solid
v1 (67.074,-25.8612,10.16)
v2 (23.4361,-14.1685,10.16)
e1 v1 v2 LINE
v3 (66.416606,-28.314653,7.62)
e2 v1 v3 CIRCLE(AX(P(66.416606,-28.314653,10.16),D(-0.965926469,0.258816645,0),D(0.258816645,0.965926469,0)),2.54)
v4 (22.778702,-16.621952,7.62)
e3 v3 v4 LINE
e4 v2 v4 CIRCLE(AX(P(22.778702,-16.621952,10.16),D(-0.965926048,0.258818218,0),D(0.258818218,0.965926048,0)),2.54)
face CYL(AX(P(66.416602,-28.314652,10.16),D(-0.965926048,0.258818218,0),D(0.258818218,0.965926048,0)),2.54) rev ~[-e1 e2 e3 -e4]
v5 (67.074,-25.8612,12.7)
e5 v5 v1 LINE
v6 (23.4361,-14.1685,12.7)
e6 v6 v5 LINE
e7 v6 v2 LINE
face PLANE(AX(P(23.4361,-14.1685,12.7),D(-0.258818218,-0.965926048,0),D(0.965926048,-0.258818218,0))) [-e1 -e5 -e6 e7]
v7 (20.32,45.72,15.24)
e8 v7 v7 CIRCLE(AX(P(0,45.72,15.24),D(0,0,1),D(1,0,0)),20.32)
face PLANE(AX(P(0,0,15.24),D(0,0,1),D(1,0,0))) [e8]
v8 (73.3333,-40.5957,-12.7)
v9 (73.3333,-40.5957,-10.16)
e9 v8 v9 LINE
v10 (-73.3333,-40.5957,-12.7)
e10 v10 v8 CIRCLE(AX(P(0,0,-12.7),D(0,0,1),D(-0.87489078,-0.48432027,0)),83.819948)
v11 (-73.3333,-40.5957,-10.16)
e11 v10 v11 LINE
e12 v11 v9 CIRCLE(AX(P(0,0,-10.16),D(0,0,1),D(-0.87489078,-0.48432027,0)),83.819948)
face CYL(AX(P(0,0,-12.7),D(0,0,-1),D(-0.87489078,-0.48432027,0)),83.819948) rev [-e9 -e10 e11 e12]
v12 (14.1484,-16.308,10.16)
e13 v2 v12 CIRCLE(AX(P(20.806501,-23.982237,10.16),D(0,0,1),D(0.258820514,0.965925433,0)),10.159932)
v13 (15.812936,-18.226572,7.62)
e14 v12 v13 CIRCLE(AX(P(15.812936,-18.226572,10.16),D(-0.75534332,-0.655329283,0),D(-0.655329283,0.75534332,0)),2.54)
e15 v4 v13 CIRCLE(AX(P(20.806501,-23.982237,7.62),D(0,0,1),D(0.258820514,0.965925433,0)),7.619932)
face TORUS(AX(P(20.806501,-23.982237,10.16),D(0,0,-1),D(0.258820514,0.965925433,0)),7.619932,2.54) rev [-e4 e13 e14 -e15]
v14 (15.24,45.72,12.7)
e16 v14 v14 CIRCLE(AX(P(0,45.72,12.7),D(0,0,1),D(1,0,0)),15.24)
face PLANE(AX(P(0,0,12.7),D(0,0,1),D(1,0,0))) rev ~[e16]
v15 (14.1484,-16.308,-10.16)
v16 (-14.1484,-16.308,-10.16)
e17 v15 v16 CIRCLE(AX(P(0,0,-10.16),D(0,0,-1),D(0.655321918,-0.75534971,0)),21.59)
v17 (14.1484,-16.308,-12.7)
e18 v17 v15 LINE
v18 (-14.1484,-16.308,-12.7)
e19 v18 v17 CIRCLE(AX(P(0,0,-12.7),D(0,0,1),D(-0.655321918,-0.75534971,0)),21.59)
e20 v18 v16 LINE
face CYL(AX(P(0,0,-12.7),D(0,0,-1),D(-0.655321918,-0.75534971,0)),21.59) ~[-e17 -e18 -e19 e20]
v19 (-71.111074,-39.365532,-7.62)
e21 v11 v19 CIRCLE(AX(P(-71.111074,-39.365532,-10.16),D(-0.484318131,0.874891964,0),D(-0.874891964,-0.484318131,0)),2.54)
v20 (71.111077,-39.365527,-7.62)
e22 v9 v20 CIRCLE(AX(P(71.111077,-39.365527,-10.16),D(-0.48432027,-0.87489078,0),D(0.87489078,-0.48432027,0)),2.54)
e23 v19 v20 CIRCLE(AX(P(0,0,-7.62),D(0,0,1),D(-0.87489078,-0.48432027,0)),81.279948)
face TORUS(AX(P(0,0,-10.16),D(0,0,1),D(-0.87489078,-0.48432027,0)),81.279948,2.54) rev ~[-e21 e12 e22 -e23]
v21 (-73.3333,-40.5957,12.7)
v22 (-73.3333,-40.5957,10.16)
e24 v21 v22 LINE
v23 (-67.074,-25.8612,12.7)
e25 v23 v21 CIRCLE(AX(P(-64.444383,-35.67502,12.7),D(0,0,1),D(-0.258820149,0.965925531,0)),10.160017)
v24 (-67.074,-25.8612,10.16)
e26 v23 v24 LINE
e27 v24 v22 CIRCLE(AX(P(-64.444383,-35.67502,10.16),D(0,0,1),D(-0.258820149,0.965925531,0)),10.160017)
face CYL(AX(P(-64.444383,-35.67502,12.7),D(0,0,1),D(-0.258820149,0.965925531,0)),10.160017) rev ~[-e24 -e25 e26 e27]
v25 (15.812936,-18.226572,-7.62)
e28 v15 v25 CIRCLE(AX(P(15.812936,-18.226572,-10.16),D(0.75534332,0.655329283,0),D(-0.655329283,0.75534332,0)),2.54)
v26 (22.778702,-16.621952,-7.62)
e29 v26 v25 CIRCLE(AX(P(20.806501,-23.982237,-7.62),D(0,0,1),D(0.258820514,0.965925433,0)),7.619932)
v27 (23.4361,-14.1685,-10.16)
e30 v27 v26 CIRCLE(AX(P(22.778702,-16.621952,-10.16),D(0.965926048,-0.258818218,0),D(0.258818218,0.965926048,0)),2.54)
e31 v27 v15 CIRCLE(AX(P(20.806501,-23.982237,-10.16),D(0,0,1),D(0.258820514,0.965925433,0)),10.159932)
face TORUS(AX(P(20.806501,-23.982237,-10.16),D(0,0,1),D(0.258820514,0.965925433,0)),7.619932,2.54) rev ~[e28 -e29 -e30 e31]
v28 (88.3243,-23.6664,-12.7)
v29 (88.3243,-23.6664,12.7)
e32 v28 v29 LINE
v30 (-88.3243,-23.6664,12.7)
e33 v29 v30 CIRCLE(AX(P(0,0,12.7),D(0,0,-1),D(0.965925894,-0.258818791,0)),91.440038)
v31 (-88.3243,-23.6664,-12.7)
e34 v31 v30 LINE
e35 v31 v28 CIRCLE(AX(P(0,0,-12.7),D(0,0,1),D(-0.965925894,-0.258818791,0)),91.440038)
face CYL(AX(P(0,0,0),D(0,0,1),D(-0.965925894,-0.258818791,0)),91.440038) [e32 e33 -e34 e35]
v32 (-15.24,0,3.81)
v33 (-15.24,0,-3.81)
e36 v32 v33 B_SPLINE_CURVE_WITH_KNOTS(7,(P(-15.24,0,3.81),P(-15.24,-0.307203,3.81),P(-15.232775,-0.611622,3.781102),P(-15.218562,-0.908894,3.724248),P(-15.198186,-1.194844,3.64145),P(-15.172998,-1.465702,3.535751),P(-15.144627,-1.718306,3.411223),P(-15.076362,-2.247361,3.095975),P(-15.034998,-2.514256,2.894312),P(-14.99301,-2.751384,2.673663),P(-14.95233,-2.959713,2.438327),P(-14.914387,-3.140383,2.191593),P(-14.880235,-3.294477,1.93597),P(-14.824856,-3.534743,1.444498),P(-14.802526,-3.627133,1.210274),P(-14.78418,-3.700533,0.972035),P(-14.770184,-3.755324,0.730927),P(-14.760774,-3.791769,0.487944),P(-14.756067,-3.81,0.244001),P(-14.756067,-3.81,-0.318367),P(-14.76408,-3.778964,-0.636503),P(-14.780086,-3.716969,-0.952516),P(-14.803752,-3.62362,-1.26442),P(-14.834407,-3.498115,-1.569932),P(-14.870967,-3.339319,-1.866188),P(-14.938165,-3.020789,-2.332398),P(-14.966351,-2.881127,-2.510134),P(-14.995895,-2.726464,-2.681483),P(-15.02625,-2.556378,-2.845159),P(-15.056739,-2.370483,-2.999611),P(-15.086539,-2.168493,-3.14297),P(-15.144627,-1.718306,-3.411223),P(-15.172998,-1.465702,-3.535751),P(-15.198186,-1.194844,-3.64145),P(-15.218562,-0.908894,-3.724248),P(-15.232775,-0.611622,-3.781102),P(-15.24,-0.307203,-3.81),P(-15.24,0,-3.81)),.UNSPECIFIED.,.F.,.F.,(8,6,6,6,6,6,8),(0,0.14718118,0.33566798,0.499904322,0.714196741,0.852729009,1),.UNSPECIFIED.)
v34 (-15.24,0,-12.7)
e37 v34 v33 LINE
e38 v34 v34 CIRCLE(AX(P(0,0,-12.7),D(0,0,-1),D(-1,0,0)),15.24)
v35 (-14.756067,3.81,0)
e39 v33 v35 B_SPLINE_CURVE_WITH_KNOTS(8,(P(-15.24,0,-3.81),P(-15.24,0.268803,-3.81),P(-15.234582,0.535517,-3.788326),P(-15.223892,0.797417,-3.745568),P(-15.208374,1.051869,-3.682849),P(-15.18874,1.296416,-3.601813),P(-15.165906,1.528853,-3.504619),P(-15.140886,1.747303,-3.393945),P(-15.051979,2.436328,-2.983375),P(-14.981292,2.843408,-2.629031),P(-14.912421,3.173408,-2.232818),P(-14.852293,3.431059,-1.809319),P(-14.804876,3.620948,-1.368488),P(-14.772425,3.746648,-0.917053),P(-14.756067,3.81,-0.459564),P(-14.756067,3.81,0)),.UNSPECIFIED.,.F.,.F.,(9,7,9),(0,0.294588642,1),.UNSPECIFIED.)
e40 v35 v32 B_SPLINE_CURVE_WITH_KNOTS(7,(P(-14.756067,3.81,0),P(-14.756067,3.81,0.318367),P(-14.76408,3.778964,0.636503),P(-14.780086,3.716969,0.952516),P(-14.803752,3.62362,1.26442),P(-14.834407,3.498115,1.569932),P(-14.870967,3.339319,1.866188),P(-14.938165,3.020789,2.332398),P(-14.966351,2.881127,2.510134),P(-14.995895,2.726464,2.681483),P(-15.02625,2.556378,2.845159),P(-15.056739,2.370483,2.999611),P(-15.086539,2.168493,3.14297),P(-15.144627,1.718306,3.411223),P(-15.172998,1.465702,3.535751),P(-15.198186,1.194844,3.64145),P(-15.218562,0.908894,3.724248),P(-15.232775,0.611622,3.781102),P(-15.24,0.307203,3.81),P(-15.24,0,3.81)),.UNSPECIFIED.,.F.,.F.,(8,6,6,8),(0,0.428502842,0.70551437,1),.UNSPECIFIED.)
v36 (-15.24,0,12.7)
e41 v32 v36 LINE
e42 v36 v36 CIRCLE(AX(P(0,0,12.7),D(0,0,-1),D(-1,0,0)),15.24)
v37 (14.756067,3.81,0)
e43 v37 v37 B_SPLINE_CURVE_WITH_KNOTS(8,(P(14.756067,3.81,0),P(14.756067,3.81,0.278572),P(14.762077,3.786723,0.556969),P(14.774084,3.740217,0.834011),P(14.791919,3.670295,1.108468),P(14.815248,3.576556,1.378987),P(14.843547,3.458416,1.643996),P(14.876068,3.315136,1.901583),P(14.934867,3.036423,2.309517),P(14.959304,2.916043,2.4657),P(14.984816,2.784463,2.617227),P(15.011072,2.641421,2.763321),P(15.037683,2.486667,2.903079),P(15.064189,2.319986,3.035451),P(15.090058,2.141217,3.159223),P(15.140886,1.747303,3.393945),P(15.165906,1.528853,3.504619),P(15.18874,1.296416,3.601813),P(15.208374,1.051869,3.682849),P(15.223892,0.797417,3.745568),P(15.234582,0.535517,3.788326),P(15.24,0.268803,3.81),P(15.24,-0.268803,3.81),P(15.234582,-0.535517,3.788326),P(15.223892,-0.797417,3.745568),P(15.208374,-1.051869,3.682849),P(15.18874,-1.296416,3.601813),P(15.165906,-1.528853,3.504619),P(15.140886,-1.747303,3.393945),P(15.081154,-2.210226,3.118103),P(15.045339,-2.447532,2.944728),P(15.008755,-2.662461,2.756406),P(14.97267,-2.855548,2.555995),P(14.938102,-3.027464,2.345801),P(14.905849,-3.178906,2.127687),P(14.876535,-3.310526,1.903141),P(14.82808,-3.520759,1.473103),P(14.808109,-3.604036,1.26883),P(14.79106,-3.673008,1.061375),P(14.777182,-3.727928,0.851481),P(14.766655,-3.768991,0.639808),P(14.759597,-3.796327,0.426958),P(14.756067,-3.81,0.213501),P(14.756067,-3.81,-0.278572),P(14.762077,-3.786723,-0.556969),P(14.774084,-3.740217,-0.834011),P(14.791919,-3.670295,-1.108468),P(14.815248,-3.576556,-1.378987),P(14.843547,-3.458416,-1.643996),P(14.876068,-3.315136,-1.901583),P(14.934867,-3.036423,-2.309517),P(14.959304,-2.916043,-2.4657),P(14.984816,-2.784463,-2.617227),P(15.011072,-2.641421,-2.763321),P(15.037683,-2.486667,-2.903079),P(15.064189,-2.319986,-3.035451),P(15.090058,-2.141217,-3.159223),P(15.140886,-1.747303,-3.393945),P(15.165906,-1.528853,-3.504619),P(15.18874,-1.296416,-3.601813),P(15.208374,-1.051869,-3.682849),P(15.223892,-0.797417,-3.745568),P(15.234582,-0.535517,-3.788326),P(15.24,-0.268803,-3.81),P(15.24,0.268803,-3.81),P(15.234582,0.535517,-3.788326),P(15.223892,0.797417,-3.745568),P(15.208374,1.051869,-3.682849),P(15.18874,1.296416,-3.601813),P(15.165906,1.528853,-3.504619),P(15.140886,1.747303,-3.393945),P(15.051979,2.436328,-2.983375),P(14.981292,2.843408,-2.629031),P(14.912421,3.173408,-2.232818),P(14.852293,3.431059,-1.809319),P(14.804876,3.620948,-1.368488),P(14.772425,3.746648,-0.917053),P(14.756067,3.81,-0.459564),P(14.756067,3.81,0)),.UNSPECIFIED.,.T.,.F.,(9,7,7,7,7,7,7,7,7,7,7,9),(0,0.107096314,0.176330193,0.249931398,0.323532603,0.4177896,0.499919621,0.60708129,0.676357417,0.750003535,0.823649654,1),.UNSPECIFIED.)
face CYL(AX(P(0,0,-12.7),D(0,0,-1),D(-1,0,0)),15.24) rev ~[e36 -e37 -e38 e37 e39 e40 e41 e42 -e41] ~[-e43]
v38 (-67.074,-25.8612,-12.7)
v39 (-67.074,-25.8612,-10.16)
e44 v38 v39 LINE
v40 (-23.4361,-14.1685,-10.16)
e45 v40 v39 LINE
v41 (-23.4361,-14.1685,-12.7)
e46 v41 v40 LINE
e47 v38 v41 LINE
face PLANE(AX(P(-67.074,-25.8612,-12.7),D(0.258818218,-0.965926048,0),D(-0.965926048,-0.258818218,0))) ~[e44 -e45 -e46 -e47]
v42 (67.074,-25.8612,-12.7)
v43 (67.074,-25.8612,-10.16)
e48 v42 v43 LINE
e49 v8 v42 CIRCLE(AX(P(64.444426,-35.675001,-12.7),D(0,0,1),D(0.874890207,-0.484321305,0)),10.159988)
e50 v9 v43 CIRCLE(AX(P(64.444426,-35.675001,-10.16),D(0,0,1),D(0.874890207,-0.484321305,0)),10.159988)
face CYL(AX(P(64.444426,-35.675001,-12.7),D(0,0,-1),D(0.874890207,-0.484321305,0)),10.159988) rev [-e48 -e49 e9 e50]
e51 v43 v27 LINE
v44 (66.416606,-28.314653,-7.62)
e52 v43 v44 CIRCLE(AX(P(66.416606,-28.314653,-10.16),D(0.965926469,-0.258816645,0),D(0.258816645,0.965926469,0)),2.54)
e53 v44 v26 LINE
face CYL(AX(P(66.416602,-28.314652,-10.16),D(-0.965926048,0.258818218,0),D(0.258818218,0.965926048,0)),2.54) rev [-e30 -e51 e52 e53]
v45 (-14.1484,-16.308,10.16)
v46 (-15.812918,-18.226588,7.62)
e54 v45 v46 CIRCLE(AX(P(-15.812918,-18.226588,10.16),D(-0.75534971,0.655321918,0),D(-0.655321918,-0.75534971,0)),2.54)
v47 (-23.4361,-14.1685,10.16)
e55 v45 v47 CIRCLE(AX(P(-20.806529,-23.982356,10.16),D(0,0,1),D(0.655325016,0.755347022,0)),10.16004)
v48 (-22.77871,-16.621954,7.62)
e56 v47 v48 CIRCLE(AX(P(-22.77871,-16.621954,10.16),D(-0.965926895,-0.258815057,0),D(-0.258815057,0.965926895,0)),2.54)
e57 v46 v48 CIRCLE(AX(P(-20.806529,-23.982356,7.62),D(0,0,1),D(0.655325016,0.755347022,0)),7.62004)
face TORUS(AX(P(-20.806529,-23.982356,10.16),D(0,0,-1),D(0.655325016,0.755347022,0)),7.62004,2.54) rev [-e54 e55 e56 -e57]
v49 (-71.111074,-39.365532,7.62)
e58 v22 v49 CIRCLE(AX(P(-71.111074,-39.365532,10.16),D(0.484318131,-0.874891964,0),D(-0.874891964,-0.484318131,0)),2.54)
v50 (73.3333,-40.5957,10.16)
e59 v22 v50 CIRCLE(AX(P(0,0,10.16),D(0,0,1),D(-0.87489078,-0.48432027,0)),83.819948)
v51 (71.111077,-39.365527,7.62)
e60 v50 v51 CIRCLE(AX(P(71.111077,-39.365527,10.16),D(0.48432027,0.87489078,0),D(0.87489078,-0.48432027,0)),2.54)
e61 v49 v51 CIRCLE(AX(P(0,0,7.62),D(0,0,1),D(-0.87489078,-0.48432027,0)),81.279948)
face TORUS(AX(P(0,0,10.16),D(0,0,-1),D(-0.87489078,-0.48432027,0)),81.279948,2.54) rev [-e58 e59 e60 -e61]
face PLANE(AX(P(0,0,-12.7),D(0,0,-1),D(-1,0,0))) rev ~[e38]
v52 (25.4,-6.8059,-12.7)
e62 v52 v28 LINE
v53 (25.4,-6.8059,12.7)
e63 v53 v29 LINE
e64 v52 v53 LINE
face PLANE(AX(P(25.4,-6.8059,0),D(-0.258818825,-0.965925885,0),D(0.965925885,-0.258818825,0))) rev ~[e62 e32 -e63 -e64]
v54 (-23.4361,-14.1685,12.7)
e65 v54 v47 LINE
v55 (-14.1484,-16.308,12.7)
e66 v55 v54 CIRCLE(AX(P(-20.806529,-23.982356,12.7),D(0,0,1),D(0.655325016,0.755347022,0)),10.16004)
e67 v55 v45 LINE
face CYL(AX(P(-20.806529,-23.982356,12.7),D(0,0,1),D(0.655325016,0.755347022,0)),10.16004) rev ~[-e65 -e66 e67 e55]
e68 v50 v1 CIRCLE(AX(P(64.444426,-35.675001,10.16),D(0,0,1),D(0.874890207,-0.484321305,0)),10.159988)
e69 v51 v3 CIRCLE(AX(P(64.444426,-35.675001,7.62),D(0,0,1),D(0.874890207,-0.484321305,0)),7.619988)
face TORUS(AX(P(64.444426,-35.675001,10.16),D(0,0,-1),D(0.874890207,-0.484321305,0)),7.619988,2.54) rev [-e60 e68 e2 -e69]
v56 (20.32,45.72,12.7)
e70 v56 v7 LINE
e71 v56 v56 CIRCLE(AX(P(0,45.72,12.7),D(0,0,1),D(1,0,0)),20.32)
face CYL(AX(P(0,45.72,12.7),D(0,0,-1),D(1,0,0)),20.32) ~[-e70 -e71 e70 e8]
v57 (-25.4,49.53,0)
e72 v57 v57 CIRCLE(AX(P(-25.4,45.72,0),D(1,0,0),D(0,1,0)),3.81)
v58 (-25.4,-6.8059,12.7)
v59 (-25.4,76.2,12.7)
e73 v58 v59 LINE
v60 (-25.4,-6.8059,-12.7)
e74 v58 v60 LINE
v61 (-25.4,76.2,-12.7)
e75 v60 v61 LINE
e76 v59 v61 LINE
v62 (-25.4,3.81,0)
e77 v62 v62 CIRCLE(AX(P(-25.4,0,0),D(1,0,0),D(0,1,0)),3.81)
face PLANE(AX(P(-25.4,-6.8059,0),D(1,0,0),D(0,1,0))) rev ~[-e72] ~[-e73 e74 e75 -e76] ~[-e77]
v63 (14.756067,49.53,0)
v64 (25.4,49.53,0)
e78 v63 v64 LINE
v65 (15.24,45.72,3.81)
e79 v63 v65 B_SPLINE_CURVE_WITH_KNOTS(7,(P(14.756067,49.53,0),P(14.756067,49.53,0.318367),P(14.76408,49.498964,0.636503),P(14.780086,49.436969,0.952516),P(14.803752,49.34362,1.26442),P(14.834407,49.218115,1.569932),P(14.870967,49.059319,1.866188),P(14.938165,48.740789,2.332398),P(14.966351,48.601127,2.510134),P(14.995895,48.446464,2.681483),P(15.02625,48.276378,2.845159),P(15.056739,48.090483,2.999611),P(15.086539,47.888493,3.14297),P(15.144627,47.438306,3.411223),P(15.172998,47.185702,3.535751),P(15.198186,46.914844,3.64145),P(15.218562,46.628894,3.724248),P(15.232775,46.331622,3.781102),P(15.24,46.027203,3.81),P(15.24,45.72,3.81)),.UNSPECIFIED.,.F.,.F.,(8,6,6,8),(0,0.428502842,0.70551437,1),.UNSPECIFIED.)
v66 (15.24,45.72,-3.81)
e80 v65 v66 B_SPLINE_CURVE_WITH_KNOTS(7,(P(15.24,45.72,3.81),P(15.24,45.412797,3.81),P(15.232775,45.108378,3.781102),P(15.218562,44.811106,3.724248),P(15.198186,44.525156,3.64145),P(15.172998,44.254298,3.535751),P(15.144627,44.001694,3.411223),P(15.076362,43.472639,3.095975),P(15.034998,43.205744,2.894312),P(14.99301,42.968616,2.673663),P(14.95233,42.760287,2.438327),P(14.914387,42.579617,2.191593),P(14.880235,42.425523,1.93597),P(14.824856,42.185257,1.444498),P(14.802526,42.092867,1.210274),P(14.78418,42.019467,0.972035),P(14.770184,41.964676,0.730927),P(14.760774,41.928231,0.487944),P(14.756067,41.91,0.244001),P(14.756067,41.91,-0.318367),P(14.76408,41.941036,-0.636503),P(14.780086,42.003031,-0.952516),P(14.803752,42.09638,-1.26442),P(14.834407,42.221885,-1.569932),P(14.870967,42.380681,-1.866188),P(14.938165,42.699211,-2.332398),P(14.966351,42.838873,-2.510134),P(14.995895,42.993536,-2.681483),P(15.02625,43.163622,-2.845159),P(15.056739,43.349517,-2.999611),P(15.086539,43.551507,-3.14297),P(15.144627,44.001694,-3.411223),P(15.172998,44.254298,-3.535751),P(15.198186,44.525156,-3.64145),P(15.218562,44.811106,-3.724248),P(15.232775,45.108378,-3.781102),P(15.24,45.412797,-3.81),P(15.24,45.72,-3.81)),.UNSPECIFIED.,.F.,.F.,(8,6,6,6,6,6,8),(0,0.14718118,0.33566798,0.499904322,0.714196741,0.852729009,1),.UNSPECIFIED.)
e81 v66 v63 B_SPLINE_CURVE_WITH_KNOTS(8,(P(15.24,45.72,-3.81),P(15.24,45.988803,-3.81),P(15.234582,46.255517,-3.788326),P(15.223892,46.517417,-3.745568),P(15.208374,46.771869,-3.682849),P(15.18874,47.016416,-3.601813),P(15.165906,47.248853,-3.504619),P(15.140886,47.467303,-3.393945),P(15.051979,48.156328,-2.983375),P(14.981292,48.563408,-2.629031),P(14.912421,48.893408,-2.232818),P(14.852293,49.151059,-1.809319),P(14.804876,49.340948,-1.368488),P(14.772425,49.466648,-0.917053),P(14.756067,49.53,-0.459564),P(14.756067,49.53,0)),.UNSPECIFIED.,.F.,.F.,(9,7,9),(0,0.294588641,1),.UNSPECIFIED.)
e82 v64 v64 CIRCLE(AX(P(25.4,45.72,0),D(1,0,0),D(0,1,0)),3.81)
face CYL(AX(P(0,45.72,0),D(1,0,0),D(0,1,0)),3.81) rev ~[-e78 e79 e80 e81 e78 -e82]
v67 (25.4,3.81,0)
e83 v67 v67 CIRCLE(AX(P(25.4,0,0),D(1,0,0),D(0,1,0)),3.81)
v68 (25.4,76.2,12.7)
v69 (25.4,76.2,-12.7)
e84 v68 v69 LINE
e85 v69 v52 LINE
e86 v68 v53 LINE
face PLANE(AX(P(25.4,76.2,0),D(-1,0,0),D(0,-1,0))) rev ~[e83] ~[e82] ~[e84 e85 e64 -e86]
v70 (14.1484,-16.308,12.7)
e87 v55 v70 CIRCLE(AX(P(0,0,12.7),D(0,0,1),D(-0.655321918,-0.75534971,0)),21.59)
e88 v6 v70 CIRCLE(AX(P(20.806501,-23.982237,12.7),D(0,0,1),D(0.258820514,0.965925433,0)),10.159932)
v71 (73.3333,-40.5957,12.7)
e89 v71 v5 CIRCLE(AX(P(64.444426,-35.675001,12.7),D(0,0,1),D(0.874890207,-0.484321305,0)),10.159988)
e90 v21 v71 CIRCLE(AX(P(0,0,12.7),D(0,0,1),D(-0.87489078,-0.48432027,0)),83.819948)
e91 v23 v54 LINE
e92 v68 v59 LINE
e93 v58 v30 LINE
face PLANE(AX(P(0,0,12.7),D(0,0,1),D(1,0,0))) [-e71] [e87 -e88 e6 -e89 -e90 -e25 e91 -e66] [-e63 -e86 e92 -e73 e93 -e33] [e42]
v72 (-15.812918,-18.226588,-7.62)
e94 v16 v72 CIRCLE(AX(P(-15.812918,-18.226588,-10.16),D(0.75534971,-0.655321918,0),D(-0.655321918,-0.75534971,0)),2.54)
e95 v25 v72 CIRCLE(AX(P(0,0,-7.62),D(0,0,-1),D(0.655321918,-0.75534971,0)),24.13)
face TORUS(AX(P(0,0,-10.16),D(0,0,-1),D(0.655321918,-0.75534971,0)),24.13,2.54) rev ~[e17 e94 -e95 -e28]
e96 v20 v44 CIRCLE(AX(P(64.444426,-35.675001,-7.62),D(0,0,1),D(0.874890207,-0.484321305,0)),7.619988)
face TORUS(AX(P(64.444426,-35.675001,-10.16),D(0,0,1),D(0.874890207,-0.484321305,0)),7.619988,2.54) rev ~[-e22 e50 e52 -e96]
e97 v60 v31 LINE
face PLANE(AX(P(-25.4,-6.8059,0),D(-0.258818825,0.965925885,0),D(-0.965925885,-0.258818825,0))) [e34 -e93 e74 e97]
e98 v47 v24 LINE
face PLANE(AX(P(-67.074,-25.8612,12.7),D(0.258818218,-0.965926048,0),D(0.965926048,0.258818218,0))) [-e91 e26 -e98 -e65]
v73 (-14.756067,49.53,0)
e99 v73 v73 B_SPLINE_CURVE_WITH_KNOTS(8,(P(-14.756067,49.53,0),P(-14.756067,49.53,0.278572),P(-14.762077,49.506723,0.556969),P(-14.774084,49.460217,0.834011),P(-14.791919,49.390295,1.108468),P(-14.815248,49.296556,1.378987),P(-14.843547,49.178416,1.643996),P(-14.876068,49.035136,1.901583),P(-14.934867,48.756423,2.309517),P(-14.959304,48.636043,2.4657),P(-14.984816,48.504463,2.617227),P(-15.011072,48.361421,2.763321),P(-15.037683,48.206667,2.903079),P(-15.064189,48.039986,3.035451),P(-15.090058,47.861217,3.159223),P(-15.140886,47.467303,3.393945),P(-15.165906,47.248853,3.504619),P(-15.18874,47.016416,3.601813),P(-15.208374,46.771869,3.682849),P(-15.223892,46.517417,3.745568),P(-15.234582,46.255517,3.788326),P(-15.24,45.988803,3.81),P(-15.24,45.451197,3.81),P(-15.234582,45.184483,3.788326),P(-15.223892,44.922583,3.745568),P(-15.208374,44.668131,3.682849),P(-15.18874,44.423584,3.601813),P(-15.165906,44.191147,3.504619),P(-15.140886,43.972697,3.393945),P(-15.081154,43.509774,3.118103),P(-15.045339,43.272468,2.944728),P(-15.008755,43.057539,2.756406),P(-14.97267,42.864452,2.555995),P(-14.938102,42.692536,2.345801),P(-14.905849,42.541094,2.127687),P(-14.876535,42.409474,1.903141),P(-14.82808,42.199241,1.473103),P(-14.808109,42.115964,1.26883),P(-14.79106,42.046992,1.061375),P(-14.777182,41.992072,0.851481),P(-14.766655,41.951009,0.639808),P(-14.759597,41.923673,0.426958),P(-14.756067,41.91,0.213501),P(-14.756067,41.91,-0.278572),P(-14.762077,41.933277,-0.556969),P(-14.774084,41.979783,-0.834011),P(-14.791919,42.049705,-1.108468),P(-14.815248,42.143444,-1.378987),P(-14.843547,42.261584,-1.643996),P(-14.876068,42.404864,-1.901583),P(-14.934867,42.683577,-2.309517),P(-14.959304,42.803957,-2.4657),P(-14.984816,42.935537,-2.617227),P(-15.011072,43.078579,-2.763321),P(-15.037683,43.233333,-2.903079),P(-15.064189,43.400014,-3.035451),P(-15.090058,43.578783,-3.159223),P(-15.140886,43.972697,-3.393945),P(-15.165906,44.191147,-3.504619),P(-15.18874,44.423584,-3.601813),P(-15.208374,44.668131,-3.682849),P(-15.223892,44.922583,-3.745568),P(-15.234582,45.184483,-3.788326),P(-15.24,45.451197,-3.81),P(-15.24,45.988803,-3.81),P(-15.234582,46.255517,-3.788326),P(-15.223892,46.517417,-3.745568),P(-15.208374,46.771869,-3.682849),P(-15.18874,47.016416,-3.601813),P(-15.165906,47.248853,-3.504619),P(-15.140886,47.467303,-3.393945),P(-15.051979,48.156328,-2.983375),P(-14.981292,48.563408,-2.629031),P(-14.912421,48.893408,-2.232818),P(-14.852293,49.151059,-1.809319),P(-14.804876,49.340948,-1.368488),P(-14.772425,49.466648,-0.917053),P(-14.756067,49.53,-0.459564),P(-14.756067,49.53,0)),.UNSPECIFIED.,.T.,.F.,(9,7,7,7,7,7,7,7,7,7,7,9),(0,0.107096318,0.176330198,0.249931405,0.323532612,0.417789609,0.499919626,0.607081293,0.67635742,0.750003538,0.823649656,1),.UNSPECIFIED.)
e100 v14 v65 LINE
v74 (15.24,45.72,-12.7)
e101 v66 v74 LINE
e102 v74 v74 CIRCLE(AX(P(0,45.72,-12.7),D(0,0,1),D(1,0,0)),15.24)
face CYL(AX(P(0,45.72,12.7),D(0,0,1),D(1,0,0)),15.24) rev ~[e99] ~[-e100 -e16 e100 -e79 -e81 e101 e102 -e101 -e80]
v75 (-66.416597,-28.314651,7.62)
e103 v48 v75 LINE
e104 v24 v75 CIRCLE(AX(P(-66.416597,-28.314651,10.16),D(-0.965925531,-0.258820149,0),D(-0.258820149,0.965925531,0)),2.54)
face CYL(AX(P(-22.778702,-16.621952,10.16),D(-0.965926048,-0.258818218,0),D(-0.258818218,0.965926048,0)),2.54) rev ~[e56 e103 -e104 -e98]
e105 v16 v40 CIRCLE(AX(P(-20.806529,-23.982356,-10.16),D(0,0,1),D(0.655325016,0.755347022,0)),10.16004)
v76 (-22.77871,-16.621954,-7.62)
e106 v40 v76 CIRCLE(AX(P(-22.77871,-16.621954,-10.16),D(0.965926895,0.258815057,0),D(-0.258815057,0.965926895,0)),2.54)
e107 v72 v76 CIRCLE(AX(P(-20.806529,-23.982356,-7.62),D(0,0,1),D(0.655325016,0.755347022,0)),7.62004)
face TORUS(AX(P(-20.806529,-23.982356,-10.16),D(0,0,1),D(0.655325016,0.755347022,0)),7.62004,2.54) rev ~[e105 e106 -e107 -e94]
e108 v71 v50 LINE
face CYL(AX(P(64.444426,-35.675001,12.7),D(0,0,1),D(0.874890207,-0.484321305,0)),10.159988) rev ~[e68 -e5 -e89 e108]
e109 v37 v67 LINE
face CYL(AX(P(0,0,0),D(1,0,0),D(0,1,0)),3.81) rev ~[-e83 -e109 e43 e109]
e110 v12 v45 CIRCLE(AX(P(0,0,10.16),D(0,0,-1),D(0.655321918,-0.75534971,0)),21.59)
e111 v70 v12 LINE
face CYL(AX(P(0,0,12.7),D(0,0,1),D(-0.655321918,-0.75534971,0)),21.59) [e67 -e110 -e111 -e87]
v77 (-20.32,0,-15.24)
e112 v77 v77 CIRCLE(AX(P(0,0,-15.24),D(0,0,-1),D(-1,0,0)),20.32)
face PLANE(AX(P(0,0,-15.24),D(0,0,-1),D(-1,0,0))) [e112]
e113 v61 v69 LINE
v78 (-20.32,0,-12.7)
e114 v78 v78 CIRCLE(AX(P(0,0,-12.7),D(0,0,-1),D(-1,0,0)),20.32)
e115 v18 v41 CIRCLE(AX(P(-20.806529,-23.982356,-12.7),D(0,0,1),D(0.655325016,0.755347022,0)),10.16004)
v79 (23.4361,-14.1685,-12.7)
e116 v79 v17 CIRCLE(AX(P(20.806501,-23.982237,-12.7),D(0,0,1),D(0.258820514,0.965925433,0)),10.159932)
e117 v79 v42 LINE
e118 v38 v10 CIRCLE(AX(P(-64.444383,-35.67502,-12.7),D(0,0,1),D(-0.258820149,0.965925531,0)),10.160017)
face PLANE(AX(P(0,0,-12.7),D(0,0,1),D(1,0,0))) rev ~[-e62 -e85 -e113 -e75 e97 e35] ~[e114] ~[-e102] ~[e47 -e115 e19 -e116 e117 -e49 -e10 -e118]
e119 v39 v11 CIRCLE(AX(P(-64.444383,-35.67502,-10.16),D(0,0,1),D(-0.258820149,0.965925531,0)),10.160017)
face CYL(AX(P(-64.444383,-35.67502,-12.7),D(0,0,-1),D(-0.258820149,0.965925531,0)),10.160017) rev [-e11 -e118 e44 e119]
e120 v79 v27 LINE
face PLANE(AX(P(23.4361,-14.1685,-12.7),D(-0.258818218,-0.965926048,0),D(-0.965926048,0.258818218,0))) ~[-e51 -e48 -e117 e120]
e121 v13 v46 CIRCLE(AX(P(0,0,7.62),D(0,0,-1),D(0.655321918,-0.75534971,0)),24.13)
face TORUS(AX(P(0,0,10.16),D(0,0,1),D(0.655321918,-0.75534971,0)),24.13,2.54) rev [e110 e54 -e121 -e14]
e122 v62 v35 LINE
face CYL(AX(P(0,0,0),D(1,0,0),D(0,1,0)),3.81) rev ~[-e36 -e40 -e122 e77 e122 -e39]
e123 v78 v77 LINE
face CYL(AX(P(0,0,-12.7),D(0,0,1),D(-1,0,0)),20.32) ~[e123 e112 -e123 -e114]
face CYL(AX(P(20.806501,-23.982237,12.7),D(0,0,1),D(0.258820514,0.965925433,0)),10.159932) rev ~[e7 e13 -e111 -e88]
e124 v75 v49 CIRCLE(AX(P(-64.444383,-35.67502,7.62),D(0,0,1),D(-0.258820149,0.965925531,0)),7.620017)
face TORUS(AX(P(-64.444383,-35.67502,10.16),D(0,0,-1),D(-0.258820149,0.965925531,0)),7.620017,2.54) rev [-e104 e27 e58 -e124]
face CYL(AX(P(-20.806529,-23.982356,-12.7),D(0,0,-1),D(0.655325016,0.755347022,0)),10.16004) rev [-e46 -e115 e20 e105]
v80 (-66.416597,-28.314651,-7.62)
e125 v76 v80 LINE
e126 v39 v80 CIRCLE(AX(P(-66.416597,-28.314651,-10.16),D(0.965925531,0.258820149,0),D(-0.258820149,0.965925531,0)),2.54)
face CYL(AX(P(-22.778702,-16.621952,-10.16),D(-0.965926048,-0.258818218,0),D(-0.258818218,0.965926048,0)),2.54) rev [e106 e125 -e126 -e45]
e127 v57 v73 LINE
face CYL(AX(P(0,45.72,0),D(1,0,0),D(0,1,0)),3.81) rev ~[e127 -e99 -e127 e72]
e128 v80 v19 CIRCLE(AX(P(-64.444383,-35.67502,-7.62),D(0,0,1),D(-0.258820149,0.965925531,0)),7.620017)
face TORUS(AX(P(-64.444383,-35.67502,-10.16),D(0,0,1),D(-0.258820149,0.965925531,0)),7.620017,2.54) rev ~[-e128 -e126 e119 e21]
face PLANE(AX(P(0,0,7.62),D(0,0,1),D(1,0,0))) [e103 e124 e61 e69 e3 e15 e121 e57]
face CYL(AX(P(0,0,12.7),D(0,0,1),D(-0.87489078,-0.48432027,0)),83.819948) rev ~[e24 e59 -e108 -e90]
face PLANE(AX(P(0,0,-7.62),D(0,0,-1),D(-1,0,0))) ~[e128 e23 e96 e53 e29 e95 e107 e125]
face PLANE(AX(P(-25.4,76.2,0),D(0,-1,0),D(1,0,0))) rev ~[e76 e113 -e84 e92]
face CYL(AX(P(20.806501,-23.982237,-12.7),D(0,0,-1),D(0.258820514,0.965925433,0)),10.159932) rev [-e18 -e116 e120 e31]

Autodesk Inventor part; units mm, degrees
ref_plane "YZ Plane" through (0, 0, 0) normal (1, 0, 0) x (0, 1, 0)
ref_plane "XZ Plane" through (0, 0, 0) normal (0, 1, 0) x (-1, 0, 0)
ref_plane "XY Plane" through (0, 0, 0) normal (0, 0, 1) x (1, 0, 0)
sketch "Sketch1" plane through (0, 0, 0) normal (0, 0, 1) x (1, 0, 0)
  arc A0 (-88.3243, -23.6664) -> (88.3243, -23.6664) centre (0, 0) ccw
  line L0 (-25.4, 76.2) -> (25.4, 76.2)
  line L1 (25.4, 76.2) -> (25.4, -6.8059)
  line L2 (-25.4, -6.8059) -> (-25.4, 76.2)
  line L3 (-25.4, -6.8059) -> (-88.3243, -23.6664)
  line L4 (25.4, -6.8059) -> (88.3243, -23.6664)
  line L5 (0, -124.968) -> (0, 109.728) projected
extrude "Extrusion1" add sketch "Sketch1" against normal mid plane 25.4
sketch "Sketch2" plane through (0, 0, -12.7) normal (0, 0, -1) x (-1, 0, 0)
  circle A0 centre (0, 0) radius 15.24
  circle A1 centre (0, 0) radius 20.32
  dimension "d7" = 30.48
  dimension "d8" = 40.64
extrude "Extrusion2" cut sketch "Sketch2" against normal through all contours A0
extrude "Extrusion3" add sketch "Sketch2" along normal blind 2.54 contours A0 | A1
sketch "Sketch3" plane through (0, 0, 12.7) normal (0, 0, 1) x (1, 0, 0)
  circle A0 centre (0, 45.72) radius 15.24
  circle A1 centre (0, 45.72) radius 20.32
  point P0 (0, 0)
  dimension "d13" = 30.48
  dimension "d14" = 40.64
  dimension "d15" = 45.72
extrude "Extrusion4" cut sketch "Sketch3" against normal through all contours A0
extrude "Extrusion5" add sketch "Sketch3" along normal blind 2.54 contours A0 | A1
sketch "Sketch4" plane through (0, 0, 12.7) normal (0, 0, 1) x (1, 0, 0)
  arc A0 (-73.3333, -40.5957) -> (73.3333, -40.5957) centre (0, 0) ccw
  circle A1 centre (0, 45.72) radius 20.32 projected
  circle A2 centre (0, 45.72) radius 15.24 projected
  circle A3 centre (0, 0) radius 15.24 projected
  line L0 (25.4, -6.8059) -> (88.3243, -23.6664) projected
  arc A4 (-88.3243, -23.6664) -> (88.3243, -23.6664) centre (0, 0) ccw projected
  line L1 (-88.3243, -23.6664) -> (-25.4, -6.8059) projected
  line L2 (-25.4, -6.8059) -> (-25.4, 76.2) projected
  line L3 (-25.4, 76.2) -> (25.4, 76.2) projected
  line L4 (25.4, 76.2) -> (25.4, -6.8059) projected
  circle A5 centre (0, 45.72) radius 20.32 projected
  circle A6 centre (0, 0) radius 15.24 projected
  arc A7 (-88.3243, -23.6664) -> (88.3243, -23.6664) centre (0, 0) ccw projected
  line L5 (88.3243, -23.6664) -> (25.4, -6.8059) projected
  line L6 (25.4, -6.8059) -> (25.4, 76.2) projected
  line L7 (25.4, 76.2) -> (-25.4, 76.2) projected
  line L8 (-25.4, 76.2) -> (-25.4, -6.8059) projected
  line L9 (-25.4, -6.8059) -> (-88.3243, -23.6664) projected
  line L10 (-67.074, -25.8612) -> (-23.4361, -14.1685)
  line L11 (23.4361, -14.1685) -> (67.074, -25.8612)
  arc A8 (-67.074, -25.8612) -> (-73.3333, -40.5957) centre (-64.4444, -35.675) ccw
  arc A9 (73.3333, -40.5957) -> (67.074, -25.8612) centre (64.4444, -35.675) ccw
  arc A10 (-14.1484, -16.308) -> (14.1484, -16.308) centre (0, 0) ccw
  arc A11 (-14.1484, -16.308) -> (-23.4361, -14.1685) centre (-20.8065, -23.9823) ccw
  arc A12 (23.4361, -14.1685) -> (14.1484, -16.308) centre (20.8065, -23.9823) ccw
  point P0 (78.6564, -28.9647)
  point P1 (-78.6564, -28.9647)
  point P2 (-17.5401, -12.5887)
  point P3 (17.5401, -12.5887)
  dimension "d20" = 167.64
  dimension "d21" = 7.62
  dimension "d22" = 7.62
  dimension "d23" = 10.16
  dimension "d24" = 43.18
  dimension "d25" = 10.16
extrude "Extrusion6" cut sketch "Sketch4" against normal blind 5.08 contours A8 L10 A11 A10 A12 L11 A9 A0
mirror "Mirror1" about plane through (0, 0, 0) normal (0, 0, 1) of "Extrusion6"
sketch "Sketch5" plane through (0, 0, 0) normal (1, 0, 0) x (0, 1, 0)
  line L0 (-20.32, -15.24) -> (-20.32, -12.7) projected
  line L1 (-20.32, -12.7) -> (-21.59, -12.7) projected
  line L2 (-21.59, -12.7) -> (-21.59, -7.62) projected
  line L3 (-21.59, -7.62) -> (-83.82, -7.62) projected
  line L4 (-83.82, -7.62) -> (-83.82, -12.7) projected
  line L5 (-83.82, -12.7) -> (-91.44, -12.7) projected
  line L6 (-91.44, -12.7) -> (-91.44, 12.7) projected
  line L7 (-91.44, 12.7) -> (-83.82, 12.7) projected
  line L8 (-83.82, 12.7) -> (-83.82, 7.62) projected
  line L9 (-83.82, 7.62) -> (-21.59, 7.62) projected
  line L10 (-21.59, 7.62) -> (-21.59, 12.7) projected
  line L11 (-21.59, 12.7) -> (-15.24, 12.7) projected
  line L12 (-15.24, 12.7) -> (-15.24, -12.7) projected
  line L13 (-15.24, -12.7) -> (15.24, -12.7) projected
  line L14 (15.24, -12.7) -> (15.24, 12.7) projected
  line L15 (15.24, 12.7) -> (25.4, 12.7) projected
  line L16 (25.4, 12.7) -> (25.4, 15.24) projected
  line L17 (25.4, 15.24) -> (66.04, 15.24) projected
  line L18 (66.04, 15.24) -> (66.04, 12.7) projected
  line L19 (66.04, 12.7) -> (76.2, 12.7) projected
  line L20 (76.2, 12.7) -> (76.2, -12.7) projected
  line L21 (76.2, -12.7) -> (60.96, -12.7) projected
  line L22 (60.96, -12.7) -> (60.96, 12.7) projected
  line L23 (60.96, 12.7) -> (30.48, 12.7) projected
  line L24 (30.48, 12.7) -> (30.48, -12.7) projected
  line L25 (30.48, -12.7) -> (20.32, -12.7) projected
  line L26 (20.32, -12.7) -> (20.32, -15.24) projected
  line L27 (20.32, -15.24) -> (-20.32, -15.24) projected
  line L28 (76.2, -12.7) -> (76.2, 12.7) projected
  line L29 (-6.8059, -12.7) -> (76.2, -12.7) projected
  line L30 (-6.8059, -12.7) -> (-6.8059, 12.7) projected
  line L31 (76.2, 12.7) -> (-6.8059, 12.7) projected
  line L32 (-23.6664, 12.7) -> (-23.6664, -12.7) projected
  line L33 (-23.6664, -12.7) -> (-23.6664, -12.7) projected
  line L34 (-23.6664, -12.7) -> (-23.6664, 12.7) projected
  line L35 (-23.6664, 12.7) -> (-23.6664, 12.7) projected
  circle A0 centre (45.72, 0) radius 3.81
  circle A1 centre (0, 0) radius 3.81
  dimension "d28" = 7.62
  dimension "d29" = 7.62
extrude "Extrusion7" cut sketch "Sketch5" against normal through all both and the other way through all contours A0 | A1
fillet "Fillet1" radius 2.54 16 edges at (-73.7957, -31.7026, 7.62) (-45.2551, -20.0149, 7.62) (-18.5258, -14.0816, 7.62) (0, -21.59, 7.62) (18.5258, -14.0816, 7.62) (45.2551, -20.0149, 7.62) (73.7957, -31.7026, 7.62) (0, -83.82, 7.62) (-73.7957, -31.7026, -7.62) (-45.2551, -20.0149, -7.62) (-18.5258, -14.0816, -7.62) (0, -21.59, -7.62) (18.5258, -14.0816, -7.62) (45.2551, -20.0149, -7.62) (73.7957, -31.7026, -7.62) (0, -83.82, -7.62)
equation "\"BendRadius\" = Thickness"
equation "\"BendReliefWidth\" = Thickness"
equation "\"BendReliefDepth\" = 0.5 * Thickness"
equation "\"CornerReliefSize\" = 4 * Thickness"
equation "\"MinimumRemnant\" = 2 * Thickness"
equation "\"TransitionRadius\" = BendRadius"
equation "\"JacobiRadiusSize\" = BendRadius"
equation "\"GapSize\" = Thickness"
equation "\"Thickness\" = 3.048"
properties part number "crankshaft counterwieght"
